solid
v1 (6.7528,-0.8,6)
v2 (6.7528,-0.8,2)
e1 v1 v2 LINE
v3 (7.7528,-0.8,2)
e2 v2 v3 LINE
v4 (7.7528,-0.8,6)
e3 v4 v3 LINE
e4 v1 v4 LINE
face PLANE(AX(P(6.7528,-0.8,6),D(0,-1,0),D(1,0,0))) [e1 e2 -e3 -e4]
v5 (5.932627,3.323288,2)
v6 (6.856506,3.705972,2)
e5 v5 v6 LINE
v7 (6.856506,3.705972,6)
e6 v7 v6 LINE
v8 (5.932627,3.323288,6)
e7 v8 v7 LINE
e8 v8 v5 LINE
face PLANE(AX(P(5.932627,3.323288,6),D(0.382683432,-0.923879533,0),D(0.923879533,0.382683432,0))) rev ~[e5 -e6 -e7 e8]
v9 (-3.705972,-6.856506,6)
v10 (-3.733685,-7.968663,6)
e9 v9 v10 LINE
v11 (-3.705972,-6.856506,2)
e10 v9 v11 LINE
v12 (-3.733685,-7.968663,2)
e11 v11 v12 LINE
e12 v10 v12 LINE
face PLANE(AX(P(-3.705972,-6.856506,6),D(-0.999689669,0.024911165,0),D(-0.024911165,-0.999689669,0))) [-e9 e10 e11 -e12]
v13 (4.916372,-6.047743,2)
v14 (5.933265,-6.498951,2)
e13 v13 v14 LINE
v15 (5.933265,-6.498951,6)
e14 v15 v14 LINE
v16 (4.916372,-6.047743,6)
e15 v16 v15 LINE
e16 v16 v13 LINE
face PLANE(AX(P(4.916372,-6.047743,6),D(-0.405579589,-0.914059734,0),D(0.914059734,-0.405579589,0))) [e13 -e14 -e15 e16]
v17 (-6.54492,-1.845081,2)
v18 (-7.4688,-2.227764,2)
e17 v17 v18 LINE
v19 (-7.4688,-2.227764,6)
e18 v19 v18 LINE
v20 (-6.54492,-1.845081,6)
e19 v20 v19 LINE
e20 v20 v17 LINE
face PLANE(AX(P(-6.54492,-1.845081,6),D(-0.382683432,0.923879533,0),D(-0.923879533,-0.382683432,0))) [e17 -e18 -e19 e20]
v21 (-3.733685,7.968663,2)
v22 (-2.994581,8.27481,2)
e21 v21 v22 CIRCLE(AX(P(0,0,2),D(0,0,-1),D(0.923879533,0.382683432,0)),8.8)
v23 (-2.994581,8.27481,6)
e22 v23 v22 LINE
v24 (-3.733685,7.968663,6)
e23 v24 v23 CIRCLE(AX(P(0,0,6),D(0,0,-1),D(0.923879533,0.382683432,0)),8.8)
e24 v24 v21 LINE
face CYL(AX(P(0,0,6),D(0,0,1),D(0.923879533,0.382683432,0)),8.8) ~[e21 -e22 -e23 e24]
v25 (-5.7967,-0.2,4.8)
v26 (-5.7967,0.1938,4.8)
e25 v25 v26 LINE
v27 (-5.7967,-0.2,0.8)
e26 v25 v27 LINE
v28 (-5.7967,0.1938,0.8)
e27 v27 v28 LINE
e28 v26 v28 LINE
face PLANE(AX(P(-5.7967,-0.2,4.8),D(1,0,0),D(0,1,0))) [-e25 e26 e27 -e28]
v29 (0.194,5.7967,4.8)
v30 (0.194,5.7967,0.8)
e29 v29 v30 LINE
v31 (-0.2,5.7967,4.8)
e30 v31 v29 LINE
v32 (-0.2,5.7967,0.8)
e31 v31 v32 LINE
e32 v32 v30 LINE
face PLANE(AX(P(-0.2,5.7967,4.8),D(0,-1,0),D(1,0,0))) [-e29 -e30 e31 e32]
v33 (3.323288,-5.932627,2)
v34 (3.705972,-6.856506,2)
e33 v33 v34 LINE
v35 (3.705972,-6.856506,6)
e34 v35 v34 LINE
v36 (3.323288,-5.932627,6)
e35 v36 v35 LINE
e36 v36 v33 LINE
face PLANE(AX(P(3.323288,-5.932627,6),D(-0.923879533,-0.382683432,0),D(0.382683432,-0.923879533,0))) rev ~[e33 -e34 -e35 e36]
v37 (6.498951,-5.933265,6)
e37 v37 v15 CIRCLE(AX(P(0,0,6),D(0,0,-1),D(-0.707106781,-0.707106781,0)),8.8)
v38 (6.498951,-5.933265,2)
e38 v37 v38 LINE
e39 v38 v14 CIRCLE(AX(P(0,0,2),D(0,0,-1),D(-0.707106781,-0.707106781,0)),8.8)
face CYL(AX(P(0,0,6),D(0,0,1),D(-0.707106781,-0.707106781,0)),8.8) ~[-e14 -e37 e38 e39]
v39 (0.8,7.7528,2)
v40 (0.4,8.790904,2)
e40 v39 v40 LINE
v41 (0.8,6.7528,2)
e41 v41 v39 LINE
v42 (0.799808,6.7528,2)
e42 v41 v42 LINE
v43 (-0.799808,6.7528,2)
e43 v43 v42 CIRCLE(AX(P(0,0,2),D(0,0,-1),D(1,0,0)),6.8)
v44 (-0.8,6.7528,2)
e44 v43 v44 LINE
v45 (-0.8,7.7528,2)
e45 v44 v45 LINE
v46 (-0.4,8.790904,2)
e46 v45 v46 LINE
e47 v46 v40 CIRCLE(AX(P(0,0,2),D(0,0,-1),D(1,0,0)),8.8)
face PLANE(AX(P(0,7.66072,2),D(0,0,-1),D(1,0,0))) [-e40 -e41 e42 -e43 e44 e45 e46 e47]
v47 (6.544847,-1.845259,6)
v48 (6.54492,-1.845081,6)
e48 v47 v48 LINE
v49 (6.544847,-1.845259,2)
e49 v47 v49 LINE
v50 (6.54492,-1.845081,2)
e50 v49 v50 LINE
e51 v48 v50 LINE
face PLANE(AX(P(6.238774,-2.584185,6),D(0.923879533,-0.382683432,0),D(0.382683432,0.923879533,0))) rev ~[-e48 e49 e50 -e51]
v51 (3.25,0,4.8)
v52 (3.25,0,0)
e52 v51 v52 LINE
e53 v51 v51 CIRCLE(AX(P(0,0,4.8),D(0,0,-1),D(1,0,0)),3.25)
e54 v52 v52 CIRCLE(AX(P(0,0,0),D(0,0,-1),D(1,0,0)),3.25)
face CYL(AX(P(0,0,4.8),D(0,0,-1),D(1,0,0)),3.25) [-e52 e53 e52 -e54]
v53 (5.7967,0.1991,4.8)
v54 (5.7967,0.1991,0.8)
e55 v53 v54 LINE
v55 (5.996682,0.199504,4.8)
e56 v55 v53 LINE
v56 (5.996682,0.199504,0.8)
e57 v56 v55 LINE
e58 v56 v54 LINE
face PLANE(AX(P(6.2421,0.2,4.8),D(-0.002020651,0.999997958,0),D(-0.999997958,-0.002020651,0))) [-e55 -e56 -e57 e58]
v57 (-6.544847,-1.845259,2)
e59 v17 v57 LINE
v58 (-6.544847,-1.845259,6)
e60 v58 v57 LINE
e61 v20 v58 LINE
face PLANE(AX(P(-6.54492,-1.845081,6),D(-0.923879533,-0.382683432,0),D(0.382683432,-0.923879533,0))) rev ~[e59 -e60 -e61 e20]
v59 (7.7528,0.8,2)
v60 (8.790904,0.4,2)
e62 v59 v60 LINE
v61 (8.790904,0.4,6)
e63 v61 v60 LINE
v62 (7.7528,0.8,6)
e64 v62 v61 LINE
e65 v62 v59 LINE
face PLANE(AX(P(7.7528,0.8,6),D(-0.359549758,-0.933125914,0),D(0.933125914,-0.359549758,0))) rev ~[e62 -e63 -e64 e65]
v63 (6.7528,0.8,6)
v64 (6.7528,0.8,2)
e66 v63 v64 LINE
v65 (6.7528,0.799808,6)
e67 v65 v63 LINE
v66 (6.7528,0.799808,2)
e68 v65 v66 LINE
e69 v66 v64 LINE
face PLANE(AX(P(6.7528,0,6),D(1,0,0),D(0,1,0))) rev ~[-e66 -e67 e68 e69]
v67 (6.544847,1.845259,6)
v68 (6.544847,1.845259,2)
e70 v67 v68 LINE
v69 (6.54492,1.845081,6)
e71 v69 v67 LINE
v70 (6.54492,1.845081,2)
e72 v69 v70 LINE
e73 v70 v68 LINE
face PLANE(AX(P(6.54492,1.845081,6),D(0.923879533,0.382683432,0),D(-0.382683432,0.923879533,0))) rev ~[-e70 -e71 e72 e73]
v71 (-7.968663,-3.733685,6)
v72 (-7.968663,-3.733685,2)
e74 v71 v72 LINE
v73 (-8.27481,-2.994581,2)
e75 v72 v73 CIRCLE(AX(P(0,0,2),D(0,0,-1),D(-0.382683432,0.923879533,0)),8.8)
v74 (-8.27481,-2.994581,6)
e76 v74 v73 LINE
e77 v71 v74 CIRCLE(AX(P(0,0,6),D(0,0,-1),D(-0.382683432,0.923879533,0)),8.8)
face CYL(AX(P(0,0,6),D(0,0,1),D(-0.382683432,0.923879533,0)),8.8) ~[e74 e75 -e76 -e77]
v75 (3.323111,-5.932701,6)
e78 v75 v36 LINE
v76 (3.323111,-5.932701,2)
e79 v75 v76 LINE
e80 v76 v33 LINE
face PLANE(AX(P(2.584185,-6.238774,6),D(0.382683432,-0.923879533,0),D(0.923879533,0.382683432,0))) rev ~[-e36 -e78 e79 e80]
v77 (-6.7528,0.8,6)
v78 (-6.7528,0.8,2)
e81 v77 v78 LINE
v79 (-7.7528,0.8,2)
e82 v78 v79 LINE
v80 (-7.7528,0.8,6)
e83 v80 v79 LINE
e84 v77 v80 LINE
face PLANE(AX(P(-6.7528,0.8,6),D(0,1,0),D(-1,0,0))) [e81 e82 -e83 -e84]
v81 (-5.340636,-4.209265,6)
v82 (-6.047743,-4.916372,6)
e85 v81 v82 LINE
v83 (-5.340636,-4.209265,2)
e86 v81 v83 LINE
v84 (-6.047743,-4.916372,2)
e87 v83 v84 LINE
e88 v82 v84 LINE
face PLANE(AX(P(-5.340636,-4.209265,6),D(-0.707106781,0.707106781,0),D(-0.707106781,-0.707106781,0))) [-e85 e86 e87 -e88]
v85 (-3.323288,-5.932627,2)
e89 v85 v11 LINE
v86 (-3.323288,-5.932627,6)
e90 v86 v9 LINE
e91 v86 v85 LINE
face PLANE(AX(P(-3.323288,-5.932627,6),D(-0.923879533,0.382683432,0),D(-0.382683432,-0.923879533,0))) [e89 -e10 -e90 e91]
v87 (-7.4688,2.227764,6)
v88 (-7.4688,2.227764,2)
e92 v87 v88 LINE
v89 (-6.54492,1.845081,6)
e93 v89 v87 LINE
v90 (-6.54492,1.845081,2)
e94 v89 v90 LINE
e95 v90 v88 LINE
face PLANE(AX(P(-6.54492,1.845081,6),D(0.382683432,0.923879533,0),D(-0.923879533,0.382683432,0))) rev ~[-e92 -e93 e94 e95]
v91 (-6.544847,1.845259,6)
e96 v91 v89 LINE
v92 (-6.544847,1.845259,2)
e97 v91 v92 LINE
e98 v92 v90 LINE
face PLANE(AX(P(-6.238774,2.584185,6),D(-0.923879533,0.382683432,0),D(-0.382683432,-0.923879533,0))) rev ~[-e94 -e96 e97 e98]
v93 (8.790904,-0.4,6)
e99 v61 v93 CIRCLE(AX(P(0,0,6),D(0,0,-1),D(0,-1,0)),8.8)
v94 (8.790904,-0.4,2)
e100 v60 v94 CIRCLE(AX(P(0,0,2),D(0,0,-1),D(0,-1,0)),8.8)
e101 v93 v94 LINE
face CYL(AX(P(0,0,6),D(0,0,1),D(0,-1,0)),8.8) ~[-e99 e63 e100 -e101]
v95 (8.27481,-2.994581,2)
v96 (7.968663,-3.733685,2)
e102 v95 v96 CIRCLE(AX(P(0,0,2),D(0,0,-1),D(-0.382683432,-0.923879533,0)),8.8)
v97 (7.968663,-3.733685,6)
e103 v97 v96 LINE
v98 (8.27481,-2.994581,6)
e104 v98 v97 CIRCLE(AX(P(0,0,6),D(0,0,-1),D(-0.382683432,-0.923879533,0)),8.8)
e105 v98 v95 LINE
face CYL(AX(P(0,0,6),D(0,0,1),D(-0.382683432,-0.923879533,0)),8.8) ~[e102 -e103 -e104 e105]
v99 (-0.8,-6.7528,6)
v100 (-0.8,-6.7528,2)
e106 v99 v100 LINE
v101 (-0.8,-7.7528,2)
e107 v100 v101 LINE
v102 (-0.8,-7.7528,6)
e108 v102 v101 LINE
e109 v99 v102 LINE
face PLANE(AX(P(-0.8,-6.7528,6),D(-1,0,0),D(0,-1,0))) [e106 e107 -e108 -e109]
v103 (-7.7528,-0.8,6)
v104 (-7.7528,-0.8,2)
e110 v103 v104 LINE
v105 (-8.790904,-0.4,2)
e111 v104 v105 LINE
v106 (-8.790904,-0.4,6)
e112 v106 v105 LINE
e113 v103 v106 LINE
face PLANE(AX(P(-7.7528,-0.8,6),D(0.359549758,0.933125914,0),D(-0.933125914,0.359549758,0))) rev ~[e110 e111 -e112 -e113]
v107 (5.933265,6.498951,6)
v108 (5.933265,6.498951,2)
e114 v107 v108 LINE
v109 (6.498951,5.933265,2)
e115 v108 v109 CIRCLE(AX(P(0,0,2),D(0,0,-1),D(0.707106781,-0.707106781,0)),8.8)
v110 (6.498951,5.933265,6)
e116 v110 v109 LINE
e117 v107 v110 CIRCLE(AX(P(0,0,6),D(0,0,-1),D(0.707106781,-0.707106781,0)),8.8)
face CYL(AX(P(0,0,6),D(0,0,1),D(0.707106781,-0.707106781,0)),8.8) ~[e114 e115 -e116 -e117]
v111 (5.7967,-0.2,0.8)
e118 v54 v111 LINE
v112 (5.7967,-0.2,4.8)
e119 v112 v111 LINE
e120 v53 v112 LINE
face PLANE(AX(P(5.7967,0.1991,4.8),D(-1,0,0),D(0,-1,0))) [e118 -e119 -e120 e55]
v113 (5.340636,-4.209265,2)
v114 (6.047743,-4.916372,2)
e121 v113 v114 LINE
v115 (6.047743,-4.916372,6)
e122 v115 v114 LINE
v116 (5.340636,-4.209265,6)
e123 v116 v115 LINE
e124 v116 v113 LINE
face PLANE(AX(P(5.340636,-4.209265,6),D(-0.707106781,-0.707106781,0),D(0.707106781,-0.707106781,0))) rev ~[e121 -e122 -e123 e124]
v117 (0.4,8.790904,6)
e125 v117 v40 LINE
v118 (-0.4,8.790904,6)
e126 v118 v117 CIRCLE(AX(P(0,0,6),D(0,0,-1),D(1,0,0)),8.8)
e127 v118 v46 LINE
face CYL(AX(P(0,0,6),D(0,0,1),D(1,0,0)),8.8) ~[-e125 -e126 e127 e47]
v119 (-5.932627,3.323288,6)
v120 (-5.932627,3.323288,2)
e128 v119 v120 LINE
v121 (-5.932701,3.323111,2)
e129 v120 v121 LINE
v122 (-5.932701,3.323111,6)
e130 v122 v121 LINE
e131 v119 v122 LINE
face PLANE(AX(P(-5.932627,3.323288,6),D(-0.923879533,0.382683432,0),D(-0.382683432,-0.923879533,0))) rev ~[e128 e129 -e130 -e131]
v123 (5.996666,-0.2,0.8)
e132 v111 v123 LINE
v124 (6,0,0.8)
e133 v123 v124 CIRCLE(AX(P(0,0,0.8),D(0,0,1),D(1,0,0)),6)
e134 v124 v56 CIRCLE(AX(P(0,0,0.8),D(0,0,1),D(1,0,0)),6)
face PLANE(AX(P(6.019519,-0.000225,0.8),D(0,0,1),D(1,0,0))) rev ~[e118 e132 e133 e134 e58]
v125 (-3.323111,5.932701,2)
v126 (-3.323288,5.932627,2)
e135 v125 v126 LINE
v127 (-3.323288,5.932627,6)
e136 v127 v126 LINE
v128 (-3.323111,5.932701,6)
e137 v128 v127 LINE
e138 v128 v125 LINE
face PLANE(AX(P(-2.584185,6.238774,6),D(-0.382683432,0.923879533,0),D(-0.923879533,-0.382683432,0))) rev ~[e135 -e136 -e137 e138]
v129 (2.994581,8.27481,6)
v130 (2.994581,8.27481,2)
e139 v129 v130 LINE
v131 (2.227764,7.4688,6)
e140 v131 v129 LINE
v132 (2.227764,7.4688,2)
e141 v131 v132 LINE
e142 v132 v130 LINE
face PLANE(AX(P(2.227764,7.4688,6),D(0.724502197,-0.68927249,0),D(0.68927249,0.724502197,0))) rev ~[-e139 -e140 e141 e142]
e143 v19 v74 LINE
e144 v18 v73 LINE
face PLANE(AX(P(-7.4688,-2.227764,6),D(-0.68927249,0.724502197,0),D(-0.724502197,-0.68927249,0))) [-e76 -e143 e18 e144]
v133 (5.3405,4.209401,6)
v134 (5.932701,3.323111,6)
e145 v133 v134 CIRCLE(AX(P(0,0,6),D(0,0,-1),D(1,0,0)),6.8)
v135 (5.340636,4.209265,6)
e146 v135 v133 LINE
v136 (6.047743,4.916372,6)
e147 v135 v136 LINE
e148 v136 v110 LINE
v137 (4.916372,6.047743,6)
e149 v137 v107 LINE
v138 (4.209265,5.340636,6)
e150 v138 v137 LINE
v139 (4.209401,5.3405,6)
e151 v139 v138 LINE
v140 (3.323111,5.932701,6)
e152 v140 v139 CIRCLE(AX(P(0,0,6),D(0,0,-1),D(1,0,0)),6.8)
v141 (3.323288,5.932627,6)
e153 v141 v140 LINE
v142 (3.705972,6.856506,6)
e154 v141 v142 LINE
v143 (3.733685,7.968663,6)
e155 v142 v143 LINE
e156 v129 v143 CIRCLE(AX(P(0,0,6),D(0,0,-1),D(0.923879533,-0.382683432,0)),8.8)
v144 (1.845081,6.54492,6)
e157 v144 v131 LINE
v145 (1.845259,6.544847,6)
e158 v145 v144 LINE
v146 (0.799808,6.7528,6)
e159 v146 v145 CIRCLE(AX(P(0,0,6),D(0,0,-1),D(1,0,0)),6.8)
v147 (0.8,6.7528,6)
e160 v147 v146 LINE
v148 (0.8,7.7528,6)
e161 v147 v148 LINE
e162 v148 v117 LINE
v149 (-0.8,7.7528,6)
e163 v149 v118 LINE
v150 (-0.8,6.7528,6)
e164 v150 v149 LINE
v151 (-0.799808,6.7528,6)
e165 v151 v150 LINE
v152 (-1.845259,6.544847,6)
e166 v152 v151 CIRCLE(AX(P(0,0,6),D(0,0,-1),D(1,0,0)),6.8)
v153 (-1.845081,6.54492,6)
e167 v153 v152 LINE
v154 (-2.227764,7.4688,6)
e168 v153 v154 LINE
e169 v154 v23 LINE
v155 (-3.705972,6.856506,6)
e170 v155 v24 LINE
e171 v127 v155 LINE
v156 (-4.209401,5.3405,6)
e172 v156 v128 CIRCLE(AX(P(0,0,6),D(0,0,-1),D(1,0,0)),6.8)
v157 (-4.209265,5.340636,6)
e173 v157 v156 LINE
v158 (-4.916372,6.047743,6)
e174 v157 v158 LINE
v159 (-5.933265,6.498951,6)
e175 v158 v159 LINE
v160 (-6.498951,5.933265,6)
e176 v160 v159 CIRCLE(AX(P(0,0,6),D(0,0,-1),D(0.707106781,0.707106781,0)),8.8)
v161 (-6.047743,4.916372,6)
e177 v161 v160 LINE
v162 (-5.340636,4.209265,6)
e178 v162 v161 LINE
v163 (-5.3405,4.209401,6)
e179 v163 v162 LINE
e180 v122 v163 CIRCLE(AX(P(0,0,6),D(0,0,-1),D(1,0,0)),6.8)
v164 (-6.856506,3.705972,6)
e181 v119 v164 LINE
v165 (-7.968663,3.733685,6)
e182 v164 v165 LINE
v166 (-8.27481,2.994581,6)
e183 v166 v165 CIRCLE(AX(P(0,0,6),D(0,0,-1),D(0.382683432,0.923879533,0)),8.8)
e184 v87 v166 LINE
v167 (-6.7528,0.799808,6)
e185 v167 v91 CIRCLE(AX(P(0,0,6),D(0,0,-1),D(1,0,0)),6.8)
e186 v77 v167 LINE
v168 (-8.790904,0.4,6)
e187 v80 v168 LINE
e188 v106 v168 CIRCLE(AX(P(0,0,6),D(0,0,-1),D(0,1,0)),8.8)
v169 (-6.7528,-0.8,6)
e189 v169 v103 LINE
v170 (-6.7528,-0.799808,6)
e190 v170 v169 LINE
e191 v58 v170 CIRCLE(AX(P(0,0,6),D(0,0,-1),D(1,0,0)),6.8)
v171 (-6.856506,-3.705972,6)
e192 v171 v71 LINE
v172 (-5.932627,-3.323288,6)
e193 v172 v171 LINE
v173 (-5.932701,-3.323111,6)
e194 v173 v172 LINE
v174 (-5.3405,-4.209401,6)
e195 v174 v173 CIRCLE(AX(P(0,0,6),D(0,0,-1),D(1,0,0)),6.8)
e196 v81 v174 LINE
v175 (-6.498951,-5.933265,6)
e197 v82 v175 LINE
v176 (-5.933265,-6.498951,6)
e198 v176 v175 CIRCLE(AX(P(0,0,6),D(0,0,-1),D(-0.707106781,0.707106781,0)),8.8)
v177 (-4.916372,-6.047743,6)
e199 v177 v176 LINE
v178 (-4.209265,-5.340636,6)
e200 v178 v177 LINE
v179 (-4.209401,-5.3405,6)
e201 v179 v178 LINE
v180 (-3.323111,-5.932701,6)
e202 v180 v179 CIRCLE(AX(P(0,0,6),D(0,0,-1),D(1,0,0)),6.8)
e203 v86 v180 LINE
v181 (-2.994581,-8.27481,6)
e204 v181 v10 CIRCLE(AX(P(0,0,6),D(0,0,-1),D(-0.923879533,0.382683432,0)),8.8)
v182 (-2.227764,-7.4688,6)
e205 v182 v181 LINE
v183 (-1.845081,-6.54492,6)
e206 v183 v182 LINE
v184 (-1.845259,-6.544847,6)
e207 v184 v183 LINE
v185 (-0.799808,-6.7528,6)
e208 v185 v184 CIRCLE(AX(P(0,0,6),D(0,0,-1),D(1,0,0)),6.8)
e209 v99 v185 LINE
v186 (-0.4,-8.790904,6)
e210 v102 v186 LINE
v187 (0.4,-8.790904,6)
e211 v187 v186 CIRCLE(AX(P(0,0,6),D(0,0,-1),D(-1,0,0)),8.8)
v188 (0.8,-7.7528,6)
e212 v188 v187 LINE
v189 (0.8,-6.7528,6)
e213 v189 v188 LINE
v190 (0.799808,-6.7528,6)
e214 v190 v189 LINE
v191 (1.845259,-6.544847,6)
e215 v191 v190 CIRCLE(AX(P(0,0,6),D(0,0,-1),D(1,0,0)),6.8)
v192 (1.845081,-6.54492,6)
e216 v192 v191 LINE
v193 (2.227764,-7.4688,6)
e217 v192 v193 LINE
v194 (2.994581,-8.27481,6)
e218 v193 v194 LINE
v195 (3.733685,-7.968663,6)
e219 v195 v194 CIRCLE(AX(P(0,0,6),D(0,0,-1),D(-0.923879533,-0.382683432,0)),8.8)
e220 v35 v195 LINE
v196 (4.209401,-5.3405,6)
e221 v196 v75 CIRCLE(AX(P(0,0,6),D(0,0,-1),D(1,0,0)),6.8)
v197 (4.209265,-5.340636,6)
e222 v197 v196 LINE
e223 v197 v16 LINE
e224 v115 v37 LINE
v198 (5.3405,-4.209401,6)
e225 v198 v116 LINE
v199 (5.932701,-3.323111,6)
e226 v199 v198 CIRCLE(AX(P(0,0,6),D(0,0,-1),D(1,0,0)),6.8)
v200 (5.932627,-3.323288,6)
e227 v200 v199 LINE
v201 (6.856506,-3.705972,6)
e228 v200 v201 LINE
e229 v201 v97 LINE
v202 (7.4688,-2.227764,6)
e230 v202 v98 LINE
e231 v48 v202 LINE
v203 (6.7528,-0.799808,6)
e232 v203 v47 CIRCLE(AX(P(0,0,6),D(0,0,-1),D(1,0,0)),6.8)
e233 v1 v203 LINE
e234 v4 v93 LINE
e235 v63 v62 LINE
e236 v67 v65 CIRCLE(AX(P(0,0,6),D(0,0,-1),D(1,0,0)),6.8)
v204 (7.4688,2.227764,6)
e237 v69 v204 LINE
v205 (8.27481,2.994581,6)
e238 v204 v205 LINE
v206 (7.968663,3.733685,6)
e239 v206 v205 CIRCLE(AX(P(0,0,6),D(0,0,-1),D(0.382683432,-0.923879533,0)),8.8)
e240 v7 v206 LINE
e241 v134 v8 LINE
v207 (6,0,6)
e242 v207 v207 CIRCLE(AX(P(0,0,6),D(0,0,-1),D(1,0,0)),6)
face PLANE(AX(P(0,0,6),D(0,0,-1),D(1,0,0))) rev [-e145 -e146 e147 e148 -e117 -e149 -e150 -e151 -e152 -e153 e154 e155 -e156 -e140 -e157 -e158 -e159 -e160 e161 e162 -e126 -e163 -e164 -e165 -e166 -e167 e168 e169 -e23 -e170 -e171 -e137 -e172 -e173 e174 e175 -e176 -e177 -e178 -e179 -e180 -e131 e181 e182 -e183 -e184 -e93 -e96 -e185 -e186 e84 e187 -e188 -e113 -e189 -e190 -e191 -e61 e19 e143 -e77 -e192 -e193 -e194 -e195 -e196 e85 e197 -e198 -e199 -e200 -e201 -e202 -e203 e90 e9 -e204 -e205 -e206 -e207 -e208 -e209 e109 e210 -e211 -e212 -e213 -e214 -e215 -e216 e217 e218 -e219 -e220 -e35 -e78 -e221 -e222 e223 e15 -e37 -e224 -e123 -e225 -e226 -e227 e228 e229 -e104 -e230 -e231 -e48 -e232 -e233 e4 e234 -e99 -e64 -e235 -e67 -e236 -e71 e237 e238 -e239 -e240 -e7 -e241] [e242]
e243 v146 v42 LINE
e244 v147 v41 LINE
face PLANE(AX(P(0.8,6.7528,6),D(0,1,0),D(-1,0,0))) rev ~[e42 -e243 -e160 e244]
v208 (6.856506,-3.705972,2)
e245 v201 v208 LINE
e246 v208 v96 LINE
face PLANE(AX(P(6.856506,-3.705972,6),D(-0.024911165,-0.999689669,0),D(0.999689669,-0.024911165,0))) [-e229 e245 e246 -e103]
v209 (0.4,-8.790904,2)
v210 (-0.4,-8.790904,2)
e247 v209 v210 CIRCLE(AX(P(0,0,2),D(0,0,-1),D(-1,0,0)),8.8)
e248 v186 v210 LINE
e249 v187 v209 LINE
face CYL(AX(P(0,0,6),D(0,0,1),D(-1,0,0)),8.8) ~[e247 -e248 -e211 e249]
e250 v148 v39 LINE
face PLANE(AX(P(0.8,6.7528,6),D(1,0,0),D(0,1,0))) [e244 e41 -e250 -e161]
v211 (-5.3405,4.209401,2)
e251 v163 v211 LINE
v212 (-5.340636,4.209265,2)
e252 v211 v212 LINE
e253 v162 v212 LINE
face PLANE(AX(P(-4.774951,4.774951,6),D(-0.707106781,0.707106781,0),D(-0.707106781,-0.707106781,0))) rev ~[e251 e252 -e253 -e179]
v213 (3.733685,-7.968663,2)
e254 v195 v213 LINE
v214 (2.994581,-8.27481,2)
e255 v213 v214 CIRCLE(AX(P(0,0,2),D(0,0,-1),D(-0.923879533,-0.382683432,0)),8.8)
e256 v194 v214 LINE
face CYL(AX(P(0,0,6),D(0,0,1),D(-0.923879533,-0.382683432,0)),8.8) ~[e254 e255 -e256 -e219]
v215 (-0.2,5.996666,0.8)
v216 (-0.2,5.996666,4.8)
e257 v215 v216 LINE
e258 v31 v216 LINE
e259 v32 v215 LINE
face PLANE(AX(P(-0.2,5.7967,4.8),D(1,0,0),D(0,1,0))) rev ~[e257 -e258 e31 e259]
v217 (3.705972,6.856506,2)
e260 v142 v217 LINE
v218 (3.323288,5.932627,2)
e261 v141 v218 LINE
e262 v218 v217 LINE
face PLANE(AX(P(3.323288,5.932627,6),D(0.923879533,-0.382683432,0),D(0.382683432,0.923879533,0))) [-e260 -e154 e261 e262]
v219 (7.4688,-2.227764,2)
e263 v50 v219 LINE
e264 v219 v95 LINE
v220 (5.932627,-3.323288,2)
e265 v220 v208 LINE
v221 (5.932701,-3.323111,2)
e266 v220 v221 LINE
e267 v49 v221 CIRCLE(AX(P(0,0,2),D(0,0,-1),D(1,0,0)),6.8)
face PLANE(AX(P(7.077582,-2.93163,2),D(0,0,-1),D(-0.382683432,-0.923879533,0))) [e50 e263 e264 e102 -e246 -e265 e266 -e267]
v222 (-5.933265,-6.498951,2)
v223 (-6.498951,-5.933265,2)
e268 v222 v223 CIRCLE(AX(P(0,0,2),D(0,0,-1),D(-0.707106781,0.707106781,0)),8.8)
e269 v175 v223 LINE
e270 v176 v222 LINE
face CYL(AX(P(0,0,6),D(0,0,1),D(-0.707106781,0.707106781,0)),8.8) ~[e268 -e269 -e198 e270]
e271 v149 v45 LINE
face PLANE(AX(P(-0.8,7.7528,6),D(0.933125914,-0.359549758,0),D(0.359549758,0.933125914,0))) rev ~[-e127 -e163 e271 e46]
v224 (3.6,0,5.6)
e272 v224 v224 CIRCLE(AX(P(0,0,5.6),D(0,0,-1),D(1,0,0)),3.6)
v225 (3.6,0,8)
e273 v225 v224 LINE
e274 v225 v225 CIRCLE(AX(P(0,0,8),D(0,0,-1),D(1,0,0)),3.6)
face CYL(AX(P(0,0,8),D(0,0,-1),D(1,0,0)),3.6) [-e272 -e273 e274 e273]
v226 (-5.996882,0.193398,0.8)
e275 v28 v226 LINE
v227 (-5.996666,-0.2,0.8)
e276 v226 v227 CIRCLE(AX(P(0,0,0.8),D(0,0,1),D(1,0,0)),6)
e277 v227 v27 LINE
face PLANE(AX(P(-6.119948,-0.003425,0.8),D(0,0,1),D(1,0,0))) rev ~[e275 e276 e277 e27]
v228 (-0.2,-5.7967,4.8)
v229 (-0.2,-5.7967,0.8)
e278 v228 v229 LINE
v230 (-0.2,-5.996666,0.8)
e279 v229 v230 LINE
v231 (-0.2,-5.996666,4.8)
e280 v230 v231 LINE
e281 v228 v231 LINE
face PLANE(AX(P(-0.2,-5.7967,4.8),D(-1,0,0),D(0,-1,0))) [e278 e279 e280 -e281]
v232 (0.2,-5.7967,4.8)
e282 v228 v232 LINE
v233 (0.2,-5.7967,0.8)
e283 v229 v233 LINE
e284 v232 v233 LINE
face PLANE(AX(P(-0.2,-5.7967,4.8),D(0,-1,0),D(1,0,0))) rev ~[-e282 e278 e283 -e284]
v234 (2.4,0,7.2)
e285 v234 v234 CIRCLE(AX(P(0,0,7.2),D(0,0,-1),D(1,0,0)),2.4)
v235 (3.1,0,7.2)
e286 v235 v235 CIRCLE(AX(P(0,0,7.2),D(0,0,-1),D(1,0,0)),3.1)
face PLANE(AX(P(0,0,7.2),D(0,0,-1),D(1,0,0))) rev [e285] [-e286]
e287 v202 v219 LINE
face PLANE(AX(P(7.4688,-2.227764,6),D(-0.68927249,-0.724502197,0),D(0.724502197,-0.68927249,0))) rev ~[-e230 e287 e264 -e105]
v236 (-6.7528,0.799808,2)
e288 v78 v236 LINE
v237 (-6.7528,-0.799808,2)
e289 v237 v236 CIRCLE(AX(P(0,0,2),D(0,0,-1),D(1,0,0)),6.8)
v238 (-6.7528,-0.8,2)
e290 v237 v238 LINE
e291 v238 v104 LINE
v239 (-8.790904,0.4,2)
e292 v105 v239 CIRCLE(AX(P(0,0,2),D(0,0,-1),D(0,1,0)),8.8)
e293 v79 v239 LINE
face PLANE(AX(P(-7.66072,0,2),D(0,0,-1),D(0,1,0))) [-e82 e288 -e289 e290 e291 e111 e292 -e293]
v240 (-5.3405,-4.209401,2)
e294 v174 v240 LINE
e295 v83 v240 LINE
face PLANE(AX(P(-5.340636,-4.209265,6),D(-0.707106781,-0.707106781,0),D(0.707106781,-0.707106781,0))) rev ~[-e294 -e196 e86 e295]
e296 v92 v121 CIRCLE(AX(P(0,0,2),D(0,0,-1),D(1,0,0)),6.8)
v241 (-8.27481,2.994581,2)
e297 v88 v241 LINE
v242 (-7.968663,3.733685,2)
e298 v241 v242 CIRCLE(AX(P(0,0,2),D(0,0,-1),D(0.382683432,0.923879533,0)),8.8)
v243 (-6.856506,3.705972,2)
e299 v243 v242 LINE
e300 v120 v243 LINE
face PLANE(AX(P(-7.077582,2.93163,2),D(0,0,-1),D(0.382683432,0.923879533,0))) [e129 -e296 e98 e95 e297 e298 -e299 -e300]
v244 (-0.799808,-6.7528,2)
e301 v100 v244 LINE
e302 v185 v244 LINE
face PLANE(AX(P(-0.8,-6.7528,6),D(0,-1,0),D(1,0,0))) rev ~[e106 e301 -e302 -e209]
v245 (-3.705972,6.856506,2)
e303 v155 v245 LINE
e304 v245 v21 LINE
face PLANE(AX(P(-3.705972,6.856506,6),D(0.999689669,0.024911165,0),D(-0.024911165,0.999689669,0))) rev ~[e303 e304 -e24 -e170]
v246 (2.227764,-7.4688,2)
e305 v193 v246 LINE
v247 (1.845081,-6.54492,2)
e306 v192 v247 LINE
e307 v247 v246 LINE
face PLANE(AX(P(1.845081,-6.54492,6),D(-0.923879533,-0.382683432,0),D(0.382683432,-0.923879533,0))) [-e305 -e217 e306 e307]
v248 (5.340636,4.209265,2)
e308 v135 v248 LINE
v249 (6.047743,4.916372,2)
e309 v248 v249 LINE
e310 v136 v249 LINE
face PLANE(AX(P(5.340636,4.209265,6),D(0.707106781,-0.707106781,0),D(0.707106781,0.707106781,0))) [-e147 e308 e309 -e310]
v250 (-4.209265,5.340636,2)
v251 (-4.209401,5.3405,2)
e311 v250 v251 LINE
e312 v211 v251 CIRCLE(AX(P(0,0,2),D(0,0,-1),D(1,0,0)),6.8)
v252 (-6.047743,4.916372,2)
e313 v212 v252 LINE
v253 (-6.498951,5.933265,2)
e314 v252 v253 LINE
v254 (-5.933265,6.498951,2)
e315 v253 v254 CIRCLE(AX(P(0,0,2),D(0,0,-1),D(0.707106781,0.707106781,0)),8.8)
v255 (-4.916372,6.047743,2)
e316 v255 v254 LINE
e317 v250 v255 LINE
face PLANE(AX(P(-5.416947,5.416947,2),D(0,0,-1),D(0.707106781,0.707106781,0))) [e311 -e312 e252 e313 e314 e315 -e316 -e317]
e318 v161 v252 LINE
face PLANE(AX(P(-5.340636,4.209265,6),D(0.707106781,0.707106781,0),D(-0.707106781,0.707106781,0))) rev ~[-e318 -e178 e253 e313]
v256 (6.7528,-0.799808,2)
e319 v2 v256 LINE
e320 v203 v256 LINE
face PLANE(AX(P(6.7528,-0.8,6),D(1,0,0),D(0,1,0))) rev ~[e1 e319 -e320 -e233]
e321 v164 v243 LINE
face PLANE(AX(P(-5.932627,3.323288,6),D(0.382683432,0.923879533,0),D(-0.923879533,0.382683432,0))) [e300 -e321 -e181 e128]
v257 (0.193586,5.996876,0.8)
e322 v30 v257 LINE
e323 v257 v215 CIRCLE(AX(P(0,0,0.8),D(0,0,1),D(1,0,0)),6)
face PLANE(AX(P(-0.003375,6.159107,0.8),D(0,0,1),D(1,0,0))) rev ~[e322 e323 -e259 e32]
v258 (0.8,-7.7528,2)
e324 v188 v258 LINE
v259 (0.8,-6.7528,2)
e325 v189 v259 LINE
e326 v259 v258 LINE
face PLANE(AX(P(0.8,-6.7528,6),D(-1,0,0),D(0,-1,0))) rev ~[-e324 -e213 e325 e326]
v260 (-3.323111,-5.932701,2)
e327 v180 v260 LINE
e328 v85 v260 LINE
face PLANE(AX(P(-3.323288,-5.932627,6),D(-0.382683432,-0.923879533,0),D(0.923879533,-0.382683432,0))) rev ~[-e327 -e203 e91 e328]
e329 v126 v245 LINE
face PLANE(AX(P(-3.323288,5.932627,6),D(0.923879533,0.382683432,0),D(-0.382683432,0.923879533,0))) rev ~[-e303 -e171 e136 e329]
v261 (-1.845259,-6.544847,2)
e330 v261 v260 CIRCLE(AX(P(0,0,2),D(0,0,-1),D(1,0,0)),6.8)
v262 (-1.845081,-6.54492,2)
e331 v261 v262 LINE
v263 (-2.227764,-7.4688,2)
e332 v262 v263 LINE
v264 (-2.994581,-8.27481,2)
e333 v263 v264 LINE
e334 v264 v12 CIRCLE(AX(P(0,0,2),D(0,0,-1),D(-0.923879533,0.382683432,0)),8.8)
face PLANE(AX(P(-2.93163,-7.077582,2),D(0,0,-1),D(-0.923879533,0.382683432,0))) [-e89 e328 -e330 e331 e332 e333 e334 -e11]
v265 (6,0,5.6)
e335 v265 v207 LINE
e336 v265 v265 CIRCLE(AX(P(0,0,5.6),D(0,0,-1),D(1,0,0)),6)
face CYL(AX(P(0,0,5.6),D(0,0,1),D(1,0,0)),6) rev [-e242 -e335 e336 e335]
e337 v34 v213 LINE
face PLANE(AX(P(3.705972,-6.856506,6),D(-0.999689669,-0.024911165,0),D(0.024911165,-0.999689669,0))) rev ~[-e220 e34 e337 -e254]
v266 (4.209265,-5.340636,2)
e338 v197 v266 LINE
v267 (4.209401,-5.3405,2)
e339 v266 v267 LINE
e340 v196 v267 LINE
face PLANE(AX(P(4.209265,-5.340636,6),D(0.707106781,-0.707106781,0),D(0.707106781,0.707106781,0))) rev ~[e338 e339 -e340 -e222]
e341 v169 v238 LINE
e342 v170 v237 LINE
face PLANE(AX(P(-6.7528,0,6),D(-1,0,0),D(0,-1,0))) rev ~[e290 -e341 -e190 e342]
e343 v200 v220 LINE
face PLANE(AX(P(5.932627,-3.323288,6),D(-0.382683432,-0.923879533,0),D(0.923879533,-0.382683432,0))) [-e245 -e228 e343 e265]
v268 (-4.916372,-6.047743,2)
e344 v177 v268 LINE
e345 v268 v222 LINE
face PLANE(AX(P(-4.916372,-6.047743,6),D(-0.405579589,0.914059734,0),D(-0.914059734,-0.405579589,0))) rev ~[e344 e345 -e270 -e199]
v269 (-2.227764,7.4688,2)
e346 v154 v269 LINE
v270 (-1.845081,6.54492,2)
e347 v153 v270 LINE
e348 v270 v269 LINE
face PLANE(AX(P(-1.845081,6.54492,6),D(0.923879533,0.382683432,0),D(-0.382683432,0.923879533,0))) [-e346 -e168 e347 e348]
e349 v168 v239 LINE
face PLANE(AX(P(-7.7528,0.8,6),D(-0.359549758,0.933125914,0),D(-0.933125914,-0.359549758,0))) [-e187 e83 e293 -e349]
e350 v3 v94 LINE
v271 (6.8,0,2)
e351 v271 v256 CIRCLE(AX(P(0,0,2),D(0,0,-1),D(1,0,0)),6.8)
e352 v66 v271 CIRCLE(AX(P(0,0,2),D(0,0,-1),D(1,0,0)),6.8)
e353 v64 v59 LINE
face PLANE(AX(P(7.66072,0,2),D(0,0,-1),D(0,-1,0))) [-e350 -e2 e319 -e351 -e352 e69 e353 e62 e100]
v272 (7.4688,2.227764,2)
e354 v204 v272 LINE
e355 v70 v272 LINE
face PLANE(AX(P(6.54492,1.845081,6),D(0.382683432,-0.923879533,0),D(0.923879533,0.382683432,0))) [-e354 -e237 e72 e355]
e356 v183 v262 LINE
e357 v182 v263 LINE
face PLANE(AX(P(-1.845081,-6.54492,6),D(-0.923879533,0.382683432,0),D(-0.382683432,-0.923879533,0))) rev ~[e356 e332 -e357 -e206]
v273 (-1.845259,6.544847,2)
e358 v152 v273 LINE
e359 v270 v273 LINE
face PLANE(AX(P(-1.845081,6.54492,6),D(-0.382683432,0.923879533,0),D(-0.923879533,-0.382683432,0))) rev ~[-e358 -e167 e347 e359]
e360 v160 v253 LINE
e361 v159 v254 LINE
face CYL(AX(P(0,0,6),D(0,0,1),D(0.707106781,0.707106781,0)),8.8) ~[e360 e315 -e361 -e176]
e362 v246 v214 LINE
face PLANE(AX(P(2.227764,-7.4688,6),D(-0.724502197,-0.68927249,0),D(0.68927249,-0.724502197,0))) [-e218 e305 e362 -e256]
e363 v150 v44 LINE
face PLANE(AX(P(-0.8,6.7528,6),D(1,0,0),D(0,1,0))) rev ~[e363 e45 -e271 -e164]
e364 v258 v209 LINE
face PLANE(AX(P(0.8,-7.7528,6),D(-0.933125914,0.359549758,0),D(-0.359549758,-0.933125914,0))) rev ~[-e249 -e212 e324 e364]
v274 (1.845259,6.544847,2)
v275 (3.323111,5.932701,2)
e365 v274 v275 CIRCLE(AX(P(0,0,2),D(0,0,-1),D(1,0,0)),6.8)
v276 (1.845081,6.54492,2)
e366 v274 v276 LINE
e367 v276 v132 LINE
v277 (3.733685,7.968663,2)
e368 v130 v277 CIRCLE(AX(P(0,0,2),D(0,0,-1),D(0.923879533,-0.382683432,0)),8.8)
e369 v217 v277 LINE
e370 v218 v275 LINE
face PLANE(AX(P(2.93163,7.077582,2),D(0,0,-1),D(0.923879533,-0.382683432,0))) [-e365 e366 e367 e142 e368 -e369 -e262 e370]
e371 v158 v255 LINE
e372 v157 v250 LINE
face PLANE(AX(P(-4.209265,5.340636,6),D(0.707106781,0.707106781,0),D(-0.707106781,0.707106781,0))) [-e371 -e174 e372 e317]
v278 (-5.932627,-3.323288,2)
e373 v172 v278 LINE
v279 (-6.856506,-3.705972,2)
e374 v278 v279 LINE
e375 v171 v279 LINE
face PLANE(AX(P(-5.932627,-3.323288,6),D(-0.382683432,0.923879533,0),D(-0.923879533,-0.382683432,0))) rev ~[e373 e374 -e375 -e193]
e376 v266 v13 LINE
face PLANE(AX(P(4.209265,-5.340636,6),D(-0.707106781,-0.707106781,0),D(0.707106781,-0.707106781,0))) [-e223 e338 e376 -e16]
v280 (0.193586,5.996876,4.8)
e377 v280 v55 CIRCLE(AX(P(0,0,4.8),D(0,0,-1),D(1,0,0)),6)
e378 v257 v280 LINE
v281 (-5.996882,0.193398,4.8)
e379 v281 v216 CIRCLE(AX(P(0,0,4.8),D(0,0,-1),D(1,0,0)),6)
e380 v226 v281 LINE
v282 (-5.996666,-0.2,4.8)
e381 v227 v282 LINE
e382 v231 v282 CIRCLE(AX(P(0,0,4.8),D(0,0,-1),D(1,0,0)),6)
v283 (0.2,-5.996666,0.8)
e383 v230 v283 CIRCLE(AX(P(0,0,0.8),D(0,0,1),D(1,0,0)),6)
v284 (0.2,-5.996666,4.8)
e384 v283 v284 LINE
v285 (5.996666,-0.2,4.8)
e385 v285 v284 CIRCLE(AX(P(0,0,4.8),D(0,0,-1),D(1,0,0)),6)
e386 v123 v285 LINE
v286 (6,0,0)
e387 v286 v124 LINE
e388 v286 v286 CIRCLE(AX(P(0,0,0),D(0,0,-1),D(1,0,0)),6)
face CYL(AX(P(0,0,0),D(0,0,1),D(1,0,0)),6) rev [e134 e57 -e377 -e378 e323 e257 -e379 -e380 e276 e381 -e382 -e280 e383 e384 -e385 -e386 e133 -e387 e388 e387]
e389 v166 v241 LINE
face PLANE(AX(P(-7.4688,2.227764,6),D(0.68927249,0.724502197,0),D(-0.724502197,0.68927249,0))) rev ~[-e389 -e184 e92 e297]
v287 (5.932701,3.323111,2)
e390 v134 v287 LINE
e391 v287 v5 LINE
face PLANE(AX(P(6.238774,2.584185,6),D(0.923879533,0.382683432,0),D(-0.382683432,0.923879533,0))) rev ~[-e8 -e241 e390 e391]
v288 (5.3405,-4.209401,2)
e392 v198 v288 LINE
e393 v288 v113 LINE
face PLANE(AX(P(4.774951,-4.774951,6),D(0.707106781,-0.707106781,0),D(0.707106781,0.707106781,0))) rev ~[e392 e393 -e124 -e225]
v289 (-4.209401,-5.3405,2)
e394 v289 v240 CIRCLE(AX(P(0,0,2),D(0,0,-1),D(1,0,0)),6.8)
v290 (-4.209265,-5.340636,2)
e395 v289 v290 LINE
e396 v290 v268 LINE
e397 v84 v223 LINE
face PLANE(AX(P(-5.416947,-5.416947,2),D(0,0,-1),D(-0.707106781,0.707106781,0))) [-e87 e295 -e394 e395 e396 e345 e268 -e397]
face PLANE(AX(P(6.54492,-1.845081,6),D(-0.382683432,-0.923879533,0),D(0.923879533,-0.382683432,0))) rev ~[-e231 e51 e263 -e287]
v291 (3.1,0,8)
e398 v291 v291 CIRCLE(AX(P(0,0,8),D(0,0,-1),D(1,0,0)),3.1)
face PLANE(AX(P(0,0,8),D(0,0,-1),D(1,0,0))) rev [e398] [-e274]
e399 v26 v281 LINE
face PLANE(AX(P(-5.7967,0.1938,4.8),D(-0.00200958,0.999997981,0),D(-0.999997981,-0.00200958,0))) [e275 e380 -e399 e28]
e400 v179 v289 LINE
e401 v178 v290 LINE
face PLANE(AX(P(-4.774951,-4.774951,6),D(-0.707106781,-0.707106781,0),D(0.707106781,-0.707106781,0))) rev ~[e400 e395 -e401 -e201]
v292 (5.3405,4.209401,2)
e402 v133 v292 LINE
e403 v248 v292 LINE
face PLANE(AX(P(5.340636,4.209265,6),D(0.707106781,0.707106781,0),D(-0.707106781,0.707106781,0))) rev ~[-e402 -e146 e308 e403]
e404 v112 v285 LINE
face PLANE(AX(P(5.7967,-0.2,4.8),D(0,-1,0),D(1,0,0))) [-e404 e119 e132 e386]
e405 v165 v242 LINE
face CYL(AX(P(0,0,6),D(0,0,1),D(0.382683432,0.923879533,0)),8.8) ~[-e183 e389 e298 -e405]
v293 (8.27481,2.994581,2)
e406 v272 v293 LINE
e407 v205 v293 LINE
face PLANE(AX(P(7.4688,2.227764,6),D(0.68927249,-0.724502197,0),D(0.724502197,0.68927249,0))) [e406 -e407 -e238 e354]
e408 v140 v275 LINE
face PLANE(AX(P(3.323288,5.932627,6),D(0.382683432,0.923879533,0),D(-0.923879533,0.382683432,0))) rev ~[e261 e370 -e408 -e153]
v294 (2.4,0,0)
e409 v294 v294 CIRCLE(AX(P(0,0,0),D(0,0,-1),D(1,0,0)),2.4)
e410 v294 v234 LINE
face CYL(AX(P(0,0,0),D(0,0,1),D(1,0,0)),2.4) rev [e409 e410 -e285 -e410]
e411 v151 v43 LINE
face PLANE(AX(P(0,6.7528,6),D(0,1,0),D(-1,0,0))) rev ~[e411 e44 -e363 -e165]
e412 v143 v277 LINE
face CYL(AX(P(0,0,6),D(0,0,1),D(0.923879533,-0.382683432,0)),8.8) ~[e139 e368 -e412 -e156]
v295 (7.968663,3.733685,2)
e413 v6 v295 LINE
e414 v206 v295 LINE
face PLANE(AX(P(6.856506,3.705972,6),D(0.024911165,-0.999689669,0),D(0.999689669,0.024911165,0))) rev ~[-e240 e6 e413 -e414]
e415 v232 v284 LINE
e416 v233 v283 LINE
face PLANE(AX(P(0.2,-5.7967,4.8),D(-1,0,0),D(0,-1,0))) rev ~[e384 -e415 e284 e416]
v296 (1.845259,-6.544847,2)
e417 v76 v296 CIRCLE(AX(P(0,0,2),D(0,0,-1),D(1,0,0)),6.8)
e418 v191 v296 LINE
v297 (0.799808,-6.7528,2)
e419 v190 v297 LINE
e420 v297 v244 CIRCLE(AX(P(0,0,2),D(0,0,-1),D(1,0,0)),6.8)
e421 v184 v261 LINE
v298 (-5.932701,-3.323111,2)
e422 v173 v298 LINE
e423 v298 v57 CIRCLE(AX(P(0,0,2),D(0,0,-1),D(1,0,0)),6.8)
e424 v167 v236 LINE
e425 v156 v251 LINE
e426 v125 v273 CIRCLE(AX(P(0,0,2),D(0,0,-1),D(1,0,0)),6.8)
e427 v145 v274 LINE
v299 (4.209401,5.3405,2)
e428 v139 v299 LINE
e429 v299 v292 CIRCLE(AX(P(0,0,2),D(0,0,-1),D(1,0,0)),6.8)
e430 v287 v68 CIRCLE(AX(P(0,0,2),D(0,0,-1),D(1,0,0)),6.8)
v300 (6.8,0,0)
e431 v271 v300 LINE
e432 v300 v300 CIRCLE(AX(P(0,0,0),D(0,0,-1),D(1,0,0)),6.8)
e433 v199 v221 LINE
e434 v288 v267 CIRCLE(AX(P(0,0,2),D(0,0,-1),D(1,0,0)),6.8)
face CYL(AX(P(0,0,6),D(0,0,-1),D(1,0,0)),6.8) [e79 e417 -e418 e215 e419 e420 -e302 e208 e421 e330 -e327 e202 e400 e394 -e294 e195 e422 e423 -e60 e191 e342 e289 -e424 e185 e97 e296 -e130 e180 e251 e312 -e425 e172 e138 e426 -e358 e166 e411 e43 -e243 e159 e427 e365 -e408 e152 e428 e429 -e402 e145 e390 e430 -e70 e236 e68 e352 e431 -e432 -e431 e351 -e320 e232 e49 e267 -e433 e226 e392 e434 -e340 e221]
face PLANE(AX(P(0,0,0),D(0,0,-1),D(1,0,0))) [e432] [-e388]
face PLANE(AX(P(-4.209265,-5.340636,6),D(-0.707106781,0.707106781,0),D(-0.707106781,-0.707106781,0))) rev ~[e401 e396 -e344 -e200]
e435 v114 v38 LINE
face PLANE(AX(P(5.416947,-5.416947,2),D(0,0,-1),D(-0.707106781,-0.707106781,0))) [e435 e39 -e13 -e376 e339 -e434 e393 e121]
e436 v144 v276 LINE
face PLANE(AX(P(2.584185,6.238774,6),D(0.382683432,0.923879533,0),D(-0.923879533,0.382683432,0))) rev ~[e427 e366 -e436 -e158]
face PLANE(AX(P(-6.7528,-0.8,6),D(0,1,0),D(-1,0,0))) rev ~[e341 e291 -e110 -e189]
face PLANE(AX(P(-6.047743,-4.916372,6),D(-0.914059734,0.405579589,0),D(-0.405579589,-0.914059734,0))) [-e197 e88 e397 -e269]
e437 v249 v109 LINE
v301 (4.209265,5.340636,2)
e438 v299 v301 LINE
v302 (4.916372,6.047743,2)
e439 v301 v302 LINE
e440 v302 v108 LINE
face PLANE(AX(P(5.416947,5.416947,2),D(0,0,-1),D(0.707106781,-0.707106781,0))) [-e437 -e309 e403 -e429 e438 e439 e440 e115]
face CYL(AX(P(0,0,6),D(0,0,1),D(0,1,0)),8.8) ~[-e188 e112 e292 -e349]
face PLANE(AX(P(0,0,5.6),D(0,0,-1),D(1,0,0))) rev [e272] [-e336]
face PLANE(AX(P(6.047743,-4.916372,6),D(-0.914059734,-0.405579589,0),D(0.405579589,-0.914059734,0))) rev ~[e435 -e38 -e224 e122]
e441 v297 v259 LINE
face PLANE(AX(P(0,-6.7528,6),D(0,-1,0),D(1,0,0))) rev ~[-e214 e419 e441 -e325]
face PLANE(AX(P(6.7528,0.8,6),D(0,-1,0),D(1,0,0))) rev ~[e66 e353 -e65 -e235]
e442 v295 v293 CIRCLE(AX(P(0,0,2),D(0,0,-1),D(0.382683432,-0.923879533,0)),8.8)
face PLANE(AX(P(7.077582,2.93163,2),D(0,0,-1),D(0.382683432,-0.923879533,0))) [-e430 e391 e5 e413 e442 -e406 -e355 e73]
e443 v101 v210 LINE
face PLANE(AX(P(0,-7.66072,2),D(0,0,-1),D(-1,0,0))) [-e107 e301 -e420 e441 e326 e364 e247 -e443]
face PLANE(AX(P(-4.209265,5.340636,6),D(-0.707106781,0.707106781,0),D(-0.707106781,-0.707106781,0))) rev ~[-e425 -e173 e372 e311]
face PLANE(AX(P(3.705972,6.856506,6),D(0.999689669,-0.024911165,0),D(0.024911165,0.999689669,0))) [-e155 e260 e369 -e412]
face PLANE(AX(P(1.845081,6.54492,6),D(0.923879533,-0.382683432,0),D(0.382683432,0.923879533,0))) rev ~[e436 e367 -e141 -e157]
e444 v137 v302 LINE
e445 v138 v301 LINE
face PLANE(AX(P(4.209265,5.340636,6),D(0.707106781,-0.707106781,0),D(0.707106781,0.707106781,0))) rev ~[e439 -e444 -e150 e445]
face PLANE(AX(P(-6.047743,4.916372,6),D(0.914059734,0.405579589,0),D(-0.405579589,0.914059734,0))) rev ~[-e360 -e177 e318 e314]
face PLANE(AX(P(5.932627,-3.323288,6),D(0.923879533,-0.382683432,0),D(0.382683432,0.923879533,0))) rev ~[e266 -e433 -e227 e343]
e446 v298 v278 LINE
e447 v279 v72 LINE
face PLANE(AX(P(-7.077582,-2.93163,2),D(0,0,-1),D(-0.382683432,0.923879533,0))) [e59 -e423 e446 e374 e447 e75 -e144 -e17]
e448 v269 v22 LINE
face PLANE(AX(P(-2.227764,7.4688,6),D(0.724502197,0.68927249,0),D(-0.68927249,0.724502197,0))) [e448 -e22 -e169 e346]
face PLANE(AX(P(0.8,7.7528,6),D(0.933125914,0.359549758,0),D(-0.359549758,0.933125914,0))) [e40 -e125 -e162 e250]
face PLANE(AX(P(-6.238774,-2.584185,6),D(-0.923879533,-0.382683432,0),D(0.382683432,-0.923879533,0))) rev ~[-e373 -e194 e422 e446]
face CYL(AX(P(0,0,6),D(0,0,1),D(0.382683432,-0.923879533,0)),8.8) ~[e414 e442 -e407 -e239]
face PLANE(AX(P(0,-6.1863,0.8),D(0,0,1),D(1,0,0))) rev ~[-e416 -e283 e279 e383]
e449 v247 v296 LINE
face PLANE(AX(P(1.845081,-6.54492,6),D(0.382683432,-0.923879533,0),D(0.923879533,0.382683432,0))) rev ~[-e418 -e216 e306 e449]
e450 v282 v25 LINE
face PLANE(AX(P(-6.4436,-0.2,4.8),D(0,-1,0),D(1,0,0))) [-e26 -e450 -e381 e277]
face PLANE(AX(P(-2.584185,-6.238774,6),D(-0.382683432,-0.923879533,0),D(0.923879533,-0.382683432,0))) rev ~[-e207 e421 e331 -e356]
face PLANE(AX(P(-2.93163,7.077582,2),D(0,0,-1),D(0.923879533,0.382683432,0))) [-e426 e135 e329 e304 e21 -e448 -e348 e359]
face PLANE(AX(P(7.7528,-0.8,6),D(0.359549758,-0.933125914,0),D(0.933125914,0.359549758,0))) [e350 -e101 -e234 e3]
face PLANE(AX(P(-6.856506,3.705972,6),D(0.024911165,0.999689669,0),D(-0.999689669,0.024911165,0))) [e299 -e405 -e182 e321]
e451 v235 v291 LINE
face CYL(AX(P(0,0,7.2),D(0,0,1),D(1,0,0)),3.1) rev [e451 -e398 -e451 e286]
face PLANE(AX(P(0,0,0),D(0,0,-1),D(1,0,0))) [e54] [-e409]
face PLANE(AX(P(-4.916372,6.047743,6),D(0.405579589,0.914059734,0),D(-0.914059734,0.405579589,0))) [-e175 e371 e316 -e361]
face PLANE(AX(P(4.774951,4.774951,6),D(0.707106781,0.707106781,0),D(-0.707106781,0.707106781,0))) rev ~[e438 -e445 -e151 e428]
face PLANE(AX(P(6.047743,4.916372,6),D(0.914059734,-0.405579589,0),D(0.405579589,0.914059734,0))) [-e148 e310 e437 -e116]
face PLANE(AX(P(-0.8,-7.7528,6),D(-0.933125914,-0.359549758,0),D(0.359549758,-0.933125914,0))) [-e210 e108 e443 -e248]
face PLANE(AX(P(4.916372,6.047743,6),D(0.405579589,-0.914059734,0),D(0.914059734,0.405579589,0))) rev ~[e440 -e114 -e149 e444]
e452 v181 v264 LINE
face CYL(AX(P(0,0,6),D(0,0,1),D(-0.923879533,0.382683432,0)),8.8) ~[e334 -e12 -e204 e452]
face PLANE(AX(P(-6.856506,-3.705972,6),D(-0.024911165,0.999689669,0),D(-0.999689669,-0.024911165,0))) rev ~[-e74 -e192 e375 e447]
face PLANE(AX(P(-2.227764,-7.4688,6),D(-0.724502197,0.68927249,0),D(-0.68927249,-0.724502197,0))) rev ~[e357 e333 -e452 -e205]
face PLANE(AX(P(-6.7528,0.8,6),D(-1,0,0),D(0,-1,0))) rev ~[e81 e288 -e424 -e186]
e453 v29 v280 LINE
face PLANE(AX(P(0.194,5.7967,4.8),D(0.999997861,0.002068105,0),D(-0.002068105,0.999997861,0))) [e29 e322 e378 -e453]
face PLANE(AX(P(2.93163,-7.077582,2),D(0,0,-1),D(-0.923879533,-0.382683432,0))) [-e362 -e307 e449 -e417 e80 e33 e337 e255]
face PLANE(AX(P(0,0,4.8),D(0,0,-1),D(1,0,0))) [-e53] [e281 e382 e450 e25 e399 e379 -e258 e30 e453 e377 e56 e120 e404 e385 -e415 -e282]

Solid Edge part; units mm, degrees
sketch "Sketch1" plane through (0, 0, 0) normal (0, -1, 0) x (1, 0, 0)
  line L0 (3.6, 8) -> (3.6, 5.6)
  line L1 (3.6, 5.6) -> (6, 5.6)
  line L2 (6, 5.6) -> (6, 6)
  line L3 (6, 6) -> (6.8, 6)
  line L4 (6.8, 6) -> (6.8, 0)
  line L5 (6.8, 0) -> (6, 0)
  line L6 (6, 0) -> (6, 4.8)
  line L7 (6, 4.8) -> (3.25, 4.8)
  line L8 (3.25, 4.8) -> (3.25, 0)
  line L9 (3.25, 0) -> (2.4, 0)
  line L10 (2.4, 0) -> (2.4, 7.2)
  line L11 (2.4, 7.2) -> (3.1, 7.2)
  line L12 (3.1, 7.2) -> (3.1, 8)
  line L13 (3.1, 8) -> (3.6, 8)
  dimension "D1" = 6.8
  dimension "D2" = 0.8
revolve "RevolvedProtrusion1" add sketch "Sketch1" angle 360 about axis through (0, 0, 54) along (0, 0, -1)
sketch "Sketch2" plane through (0, 0, 6) normal (0, 0, 1) x (-1, 0, 0)
  line L0 (0.8, 6.7528) -> (0, 6.7528)
  line L1 (0.8, 6.7528) -> (0.8, 7.7528)
  line L2 (0.8, 7.7528) -> (0.4, 8.7909)
  arc A0 (-0.4, 8.7909) -> (0.4, 8.7909) centre (0, 0) cw
  line L3 (-0.8, 7.7528) -> (-0.4, 8.7909)
  line L4 (-0.8, 6.7528) -> (-0.8, 7.7528)
  line L5 (0, 6.7528) -> (-0.8, 6.7528)
  dimension "D1" = 0.8
extrude "Protrusion1" add sketch "Sketch2" against normal blind 4
pattern_circular "Pattern1" count 16 over 360 about axis through (0, 0, 6) along (0, 0, -1) of "Protrusion1"
sketch "Sketch3" plane through (0, 0, 4.8) normal (0, 0, -1) x (0, -1, 0)
  line L0 (0.2, -5.7967) -> (0.2, -6.2421)
  line L1 (0.2, -6.2421) -> (-0.2, -6.2421)
  line L2 (-0.2, -6.2421) -> (-0.1991, -5.7967)
  line L3 (-0.1991, -5.7967) -> (0.2, -5.7967)
  line L4 (-0.1938, 5.7967) -> (-0.1925, 6.4436)
  line L5 (-0.1925, 6.4436) -> (0.2, 6.4436)
  line L6 (0.2, 6.4436) -> (0.2, 5.7967)
  line L7 (0.2, 5.7967) -> (-0.1938, 5.7967)
  line L8 (-5.7967, -0.194) -> (-6.522, -0.1925)
  line L9 (-6.522, -0.1925) -> (-6.522, 0.2)
  line L10 (-5.7967, 0.2) -> (-6.522, 0.2)
  line L11 (-5.7967, 0.2) -> (-5.7967, -0.194)
  line L12 (5.7967, 0.2) -> (6.5759, 0.2)
  line L13 (6.5759, 0.2) -> (6.5759, -0.2)
  line L14 (5.7967, -0.2) -> (6.5759, -0.2)
  line L15 (5.7967, 0.2) -> (5.7967, -0.2)
extrude "ExtrudedProtrusion_47" add sketch "Sketch3" along normal blind 4
